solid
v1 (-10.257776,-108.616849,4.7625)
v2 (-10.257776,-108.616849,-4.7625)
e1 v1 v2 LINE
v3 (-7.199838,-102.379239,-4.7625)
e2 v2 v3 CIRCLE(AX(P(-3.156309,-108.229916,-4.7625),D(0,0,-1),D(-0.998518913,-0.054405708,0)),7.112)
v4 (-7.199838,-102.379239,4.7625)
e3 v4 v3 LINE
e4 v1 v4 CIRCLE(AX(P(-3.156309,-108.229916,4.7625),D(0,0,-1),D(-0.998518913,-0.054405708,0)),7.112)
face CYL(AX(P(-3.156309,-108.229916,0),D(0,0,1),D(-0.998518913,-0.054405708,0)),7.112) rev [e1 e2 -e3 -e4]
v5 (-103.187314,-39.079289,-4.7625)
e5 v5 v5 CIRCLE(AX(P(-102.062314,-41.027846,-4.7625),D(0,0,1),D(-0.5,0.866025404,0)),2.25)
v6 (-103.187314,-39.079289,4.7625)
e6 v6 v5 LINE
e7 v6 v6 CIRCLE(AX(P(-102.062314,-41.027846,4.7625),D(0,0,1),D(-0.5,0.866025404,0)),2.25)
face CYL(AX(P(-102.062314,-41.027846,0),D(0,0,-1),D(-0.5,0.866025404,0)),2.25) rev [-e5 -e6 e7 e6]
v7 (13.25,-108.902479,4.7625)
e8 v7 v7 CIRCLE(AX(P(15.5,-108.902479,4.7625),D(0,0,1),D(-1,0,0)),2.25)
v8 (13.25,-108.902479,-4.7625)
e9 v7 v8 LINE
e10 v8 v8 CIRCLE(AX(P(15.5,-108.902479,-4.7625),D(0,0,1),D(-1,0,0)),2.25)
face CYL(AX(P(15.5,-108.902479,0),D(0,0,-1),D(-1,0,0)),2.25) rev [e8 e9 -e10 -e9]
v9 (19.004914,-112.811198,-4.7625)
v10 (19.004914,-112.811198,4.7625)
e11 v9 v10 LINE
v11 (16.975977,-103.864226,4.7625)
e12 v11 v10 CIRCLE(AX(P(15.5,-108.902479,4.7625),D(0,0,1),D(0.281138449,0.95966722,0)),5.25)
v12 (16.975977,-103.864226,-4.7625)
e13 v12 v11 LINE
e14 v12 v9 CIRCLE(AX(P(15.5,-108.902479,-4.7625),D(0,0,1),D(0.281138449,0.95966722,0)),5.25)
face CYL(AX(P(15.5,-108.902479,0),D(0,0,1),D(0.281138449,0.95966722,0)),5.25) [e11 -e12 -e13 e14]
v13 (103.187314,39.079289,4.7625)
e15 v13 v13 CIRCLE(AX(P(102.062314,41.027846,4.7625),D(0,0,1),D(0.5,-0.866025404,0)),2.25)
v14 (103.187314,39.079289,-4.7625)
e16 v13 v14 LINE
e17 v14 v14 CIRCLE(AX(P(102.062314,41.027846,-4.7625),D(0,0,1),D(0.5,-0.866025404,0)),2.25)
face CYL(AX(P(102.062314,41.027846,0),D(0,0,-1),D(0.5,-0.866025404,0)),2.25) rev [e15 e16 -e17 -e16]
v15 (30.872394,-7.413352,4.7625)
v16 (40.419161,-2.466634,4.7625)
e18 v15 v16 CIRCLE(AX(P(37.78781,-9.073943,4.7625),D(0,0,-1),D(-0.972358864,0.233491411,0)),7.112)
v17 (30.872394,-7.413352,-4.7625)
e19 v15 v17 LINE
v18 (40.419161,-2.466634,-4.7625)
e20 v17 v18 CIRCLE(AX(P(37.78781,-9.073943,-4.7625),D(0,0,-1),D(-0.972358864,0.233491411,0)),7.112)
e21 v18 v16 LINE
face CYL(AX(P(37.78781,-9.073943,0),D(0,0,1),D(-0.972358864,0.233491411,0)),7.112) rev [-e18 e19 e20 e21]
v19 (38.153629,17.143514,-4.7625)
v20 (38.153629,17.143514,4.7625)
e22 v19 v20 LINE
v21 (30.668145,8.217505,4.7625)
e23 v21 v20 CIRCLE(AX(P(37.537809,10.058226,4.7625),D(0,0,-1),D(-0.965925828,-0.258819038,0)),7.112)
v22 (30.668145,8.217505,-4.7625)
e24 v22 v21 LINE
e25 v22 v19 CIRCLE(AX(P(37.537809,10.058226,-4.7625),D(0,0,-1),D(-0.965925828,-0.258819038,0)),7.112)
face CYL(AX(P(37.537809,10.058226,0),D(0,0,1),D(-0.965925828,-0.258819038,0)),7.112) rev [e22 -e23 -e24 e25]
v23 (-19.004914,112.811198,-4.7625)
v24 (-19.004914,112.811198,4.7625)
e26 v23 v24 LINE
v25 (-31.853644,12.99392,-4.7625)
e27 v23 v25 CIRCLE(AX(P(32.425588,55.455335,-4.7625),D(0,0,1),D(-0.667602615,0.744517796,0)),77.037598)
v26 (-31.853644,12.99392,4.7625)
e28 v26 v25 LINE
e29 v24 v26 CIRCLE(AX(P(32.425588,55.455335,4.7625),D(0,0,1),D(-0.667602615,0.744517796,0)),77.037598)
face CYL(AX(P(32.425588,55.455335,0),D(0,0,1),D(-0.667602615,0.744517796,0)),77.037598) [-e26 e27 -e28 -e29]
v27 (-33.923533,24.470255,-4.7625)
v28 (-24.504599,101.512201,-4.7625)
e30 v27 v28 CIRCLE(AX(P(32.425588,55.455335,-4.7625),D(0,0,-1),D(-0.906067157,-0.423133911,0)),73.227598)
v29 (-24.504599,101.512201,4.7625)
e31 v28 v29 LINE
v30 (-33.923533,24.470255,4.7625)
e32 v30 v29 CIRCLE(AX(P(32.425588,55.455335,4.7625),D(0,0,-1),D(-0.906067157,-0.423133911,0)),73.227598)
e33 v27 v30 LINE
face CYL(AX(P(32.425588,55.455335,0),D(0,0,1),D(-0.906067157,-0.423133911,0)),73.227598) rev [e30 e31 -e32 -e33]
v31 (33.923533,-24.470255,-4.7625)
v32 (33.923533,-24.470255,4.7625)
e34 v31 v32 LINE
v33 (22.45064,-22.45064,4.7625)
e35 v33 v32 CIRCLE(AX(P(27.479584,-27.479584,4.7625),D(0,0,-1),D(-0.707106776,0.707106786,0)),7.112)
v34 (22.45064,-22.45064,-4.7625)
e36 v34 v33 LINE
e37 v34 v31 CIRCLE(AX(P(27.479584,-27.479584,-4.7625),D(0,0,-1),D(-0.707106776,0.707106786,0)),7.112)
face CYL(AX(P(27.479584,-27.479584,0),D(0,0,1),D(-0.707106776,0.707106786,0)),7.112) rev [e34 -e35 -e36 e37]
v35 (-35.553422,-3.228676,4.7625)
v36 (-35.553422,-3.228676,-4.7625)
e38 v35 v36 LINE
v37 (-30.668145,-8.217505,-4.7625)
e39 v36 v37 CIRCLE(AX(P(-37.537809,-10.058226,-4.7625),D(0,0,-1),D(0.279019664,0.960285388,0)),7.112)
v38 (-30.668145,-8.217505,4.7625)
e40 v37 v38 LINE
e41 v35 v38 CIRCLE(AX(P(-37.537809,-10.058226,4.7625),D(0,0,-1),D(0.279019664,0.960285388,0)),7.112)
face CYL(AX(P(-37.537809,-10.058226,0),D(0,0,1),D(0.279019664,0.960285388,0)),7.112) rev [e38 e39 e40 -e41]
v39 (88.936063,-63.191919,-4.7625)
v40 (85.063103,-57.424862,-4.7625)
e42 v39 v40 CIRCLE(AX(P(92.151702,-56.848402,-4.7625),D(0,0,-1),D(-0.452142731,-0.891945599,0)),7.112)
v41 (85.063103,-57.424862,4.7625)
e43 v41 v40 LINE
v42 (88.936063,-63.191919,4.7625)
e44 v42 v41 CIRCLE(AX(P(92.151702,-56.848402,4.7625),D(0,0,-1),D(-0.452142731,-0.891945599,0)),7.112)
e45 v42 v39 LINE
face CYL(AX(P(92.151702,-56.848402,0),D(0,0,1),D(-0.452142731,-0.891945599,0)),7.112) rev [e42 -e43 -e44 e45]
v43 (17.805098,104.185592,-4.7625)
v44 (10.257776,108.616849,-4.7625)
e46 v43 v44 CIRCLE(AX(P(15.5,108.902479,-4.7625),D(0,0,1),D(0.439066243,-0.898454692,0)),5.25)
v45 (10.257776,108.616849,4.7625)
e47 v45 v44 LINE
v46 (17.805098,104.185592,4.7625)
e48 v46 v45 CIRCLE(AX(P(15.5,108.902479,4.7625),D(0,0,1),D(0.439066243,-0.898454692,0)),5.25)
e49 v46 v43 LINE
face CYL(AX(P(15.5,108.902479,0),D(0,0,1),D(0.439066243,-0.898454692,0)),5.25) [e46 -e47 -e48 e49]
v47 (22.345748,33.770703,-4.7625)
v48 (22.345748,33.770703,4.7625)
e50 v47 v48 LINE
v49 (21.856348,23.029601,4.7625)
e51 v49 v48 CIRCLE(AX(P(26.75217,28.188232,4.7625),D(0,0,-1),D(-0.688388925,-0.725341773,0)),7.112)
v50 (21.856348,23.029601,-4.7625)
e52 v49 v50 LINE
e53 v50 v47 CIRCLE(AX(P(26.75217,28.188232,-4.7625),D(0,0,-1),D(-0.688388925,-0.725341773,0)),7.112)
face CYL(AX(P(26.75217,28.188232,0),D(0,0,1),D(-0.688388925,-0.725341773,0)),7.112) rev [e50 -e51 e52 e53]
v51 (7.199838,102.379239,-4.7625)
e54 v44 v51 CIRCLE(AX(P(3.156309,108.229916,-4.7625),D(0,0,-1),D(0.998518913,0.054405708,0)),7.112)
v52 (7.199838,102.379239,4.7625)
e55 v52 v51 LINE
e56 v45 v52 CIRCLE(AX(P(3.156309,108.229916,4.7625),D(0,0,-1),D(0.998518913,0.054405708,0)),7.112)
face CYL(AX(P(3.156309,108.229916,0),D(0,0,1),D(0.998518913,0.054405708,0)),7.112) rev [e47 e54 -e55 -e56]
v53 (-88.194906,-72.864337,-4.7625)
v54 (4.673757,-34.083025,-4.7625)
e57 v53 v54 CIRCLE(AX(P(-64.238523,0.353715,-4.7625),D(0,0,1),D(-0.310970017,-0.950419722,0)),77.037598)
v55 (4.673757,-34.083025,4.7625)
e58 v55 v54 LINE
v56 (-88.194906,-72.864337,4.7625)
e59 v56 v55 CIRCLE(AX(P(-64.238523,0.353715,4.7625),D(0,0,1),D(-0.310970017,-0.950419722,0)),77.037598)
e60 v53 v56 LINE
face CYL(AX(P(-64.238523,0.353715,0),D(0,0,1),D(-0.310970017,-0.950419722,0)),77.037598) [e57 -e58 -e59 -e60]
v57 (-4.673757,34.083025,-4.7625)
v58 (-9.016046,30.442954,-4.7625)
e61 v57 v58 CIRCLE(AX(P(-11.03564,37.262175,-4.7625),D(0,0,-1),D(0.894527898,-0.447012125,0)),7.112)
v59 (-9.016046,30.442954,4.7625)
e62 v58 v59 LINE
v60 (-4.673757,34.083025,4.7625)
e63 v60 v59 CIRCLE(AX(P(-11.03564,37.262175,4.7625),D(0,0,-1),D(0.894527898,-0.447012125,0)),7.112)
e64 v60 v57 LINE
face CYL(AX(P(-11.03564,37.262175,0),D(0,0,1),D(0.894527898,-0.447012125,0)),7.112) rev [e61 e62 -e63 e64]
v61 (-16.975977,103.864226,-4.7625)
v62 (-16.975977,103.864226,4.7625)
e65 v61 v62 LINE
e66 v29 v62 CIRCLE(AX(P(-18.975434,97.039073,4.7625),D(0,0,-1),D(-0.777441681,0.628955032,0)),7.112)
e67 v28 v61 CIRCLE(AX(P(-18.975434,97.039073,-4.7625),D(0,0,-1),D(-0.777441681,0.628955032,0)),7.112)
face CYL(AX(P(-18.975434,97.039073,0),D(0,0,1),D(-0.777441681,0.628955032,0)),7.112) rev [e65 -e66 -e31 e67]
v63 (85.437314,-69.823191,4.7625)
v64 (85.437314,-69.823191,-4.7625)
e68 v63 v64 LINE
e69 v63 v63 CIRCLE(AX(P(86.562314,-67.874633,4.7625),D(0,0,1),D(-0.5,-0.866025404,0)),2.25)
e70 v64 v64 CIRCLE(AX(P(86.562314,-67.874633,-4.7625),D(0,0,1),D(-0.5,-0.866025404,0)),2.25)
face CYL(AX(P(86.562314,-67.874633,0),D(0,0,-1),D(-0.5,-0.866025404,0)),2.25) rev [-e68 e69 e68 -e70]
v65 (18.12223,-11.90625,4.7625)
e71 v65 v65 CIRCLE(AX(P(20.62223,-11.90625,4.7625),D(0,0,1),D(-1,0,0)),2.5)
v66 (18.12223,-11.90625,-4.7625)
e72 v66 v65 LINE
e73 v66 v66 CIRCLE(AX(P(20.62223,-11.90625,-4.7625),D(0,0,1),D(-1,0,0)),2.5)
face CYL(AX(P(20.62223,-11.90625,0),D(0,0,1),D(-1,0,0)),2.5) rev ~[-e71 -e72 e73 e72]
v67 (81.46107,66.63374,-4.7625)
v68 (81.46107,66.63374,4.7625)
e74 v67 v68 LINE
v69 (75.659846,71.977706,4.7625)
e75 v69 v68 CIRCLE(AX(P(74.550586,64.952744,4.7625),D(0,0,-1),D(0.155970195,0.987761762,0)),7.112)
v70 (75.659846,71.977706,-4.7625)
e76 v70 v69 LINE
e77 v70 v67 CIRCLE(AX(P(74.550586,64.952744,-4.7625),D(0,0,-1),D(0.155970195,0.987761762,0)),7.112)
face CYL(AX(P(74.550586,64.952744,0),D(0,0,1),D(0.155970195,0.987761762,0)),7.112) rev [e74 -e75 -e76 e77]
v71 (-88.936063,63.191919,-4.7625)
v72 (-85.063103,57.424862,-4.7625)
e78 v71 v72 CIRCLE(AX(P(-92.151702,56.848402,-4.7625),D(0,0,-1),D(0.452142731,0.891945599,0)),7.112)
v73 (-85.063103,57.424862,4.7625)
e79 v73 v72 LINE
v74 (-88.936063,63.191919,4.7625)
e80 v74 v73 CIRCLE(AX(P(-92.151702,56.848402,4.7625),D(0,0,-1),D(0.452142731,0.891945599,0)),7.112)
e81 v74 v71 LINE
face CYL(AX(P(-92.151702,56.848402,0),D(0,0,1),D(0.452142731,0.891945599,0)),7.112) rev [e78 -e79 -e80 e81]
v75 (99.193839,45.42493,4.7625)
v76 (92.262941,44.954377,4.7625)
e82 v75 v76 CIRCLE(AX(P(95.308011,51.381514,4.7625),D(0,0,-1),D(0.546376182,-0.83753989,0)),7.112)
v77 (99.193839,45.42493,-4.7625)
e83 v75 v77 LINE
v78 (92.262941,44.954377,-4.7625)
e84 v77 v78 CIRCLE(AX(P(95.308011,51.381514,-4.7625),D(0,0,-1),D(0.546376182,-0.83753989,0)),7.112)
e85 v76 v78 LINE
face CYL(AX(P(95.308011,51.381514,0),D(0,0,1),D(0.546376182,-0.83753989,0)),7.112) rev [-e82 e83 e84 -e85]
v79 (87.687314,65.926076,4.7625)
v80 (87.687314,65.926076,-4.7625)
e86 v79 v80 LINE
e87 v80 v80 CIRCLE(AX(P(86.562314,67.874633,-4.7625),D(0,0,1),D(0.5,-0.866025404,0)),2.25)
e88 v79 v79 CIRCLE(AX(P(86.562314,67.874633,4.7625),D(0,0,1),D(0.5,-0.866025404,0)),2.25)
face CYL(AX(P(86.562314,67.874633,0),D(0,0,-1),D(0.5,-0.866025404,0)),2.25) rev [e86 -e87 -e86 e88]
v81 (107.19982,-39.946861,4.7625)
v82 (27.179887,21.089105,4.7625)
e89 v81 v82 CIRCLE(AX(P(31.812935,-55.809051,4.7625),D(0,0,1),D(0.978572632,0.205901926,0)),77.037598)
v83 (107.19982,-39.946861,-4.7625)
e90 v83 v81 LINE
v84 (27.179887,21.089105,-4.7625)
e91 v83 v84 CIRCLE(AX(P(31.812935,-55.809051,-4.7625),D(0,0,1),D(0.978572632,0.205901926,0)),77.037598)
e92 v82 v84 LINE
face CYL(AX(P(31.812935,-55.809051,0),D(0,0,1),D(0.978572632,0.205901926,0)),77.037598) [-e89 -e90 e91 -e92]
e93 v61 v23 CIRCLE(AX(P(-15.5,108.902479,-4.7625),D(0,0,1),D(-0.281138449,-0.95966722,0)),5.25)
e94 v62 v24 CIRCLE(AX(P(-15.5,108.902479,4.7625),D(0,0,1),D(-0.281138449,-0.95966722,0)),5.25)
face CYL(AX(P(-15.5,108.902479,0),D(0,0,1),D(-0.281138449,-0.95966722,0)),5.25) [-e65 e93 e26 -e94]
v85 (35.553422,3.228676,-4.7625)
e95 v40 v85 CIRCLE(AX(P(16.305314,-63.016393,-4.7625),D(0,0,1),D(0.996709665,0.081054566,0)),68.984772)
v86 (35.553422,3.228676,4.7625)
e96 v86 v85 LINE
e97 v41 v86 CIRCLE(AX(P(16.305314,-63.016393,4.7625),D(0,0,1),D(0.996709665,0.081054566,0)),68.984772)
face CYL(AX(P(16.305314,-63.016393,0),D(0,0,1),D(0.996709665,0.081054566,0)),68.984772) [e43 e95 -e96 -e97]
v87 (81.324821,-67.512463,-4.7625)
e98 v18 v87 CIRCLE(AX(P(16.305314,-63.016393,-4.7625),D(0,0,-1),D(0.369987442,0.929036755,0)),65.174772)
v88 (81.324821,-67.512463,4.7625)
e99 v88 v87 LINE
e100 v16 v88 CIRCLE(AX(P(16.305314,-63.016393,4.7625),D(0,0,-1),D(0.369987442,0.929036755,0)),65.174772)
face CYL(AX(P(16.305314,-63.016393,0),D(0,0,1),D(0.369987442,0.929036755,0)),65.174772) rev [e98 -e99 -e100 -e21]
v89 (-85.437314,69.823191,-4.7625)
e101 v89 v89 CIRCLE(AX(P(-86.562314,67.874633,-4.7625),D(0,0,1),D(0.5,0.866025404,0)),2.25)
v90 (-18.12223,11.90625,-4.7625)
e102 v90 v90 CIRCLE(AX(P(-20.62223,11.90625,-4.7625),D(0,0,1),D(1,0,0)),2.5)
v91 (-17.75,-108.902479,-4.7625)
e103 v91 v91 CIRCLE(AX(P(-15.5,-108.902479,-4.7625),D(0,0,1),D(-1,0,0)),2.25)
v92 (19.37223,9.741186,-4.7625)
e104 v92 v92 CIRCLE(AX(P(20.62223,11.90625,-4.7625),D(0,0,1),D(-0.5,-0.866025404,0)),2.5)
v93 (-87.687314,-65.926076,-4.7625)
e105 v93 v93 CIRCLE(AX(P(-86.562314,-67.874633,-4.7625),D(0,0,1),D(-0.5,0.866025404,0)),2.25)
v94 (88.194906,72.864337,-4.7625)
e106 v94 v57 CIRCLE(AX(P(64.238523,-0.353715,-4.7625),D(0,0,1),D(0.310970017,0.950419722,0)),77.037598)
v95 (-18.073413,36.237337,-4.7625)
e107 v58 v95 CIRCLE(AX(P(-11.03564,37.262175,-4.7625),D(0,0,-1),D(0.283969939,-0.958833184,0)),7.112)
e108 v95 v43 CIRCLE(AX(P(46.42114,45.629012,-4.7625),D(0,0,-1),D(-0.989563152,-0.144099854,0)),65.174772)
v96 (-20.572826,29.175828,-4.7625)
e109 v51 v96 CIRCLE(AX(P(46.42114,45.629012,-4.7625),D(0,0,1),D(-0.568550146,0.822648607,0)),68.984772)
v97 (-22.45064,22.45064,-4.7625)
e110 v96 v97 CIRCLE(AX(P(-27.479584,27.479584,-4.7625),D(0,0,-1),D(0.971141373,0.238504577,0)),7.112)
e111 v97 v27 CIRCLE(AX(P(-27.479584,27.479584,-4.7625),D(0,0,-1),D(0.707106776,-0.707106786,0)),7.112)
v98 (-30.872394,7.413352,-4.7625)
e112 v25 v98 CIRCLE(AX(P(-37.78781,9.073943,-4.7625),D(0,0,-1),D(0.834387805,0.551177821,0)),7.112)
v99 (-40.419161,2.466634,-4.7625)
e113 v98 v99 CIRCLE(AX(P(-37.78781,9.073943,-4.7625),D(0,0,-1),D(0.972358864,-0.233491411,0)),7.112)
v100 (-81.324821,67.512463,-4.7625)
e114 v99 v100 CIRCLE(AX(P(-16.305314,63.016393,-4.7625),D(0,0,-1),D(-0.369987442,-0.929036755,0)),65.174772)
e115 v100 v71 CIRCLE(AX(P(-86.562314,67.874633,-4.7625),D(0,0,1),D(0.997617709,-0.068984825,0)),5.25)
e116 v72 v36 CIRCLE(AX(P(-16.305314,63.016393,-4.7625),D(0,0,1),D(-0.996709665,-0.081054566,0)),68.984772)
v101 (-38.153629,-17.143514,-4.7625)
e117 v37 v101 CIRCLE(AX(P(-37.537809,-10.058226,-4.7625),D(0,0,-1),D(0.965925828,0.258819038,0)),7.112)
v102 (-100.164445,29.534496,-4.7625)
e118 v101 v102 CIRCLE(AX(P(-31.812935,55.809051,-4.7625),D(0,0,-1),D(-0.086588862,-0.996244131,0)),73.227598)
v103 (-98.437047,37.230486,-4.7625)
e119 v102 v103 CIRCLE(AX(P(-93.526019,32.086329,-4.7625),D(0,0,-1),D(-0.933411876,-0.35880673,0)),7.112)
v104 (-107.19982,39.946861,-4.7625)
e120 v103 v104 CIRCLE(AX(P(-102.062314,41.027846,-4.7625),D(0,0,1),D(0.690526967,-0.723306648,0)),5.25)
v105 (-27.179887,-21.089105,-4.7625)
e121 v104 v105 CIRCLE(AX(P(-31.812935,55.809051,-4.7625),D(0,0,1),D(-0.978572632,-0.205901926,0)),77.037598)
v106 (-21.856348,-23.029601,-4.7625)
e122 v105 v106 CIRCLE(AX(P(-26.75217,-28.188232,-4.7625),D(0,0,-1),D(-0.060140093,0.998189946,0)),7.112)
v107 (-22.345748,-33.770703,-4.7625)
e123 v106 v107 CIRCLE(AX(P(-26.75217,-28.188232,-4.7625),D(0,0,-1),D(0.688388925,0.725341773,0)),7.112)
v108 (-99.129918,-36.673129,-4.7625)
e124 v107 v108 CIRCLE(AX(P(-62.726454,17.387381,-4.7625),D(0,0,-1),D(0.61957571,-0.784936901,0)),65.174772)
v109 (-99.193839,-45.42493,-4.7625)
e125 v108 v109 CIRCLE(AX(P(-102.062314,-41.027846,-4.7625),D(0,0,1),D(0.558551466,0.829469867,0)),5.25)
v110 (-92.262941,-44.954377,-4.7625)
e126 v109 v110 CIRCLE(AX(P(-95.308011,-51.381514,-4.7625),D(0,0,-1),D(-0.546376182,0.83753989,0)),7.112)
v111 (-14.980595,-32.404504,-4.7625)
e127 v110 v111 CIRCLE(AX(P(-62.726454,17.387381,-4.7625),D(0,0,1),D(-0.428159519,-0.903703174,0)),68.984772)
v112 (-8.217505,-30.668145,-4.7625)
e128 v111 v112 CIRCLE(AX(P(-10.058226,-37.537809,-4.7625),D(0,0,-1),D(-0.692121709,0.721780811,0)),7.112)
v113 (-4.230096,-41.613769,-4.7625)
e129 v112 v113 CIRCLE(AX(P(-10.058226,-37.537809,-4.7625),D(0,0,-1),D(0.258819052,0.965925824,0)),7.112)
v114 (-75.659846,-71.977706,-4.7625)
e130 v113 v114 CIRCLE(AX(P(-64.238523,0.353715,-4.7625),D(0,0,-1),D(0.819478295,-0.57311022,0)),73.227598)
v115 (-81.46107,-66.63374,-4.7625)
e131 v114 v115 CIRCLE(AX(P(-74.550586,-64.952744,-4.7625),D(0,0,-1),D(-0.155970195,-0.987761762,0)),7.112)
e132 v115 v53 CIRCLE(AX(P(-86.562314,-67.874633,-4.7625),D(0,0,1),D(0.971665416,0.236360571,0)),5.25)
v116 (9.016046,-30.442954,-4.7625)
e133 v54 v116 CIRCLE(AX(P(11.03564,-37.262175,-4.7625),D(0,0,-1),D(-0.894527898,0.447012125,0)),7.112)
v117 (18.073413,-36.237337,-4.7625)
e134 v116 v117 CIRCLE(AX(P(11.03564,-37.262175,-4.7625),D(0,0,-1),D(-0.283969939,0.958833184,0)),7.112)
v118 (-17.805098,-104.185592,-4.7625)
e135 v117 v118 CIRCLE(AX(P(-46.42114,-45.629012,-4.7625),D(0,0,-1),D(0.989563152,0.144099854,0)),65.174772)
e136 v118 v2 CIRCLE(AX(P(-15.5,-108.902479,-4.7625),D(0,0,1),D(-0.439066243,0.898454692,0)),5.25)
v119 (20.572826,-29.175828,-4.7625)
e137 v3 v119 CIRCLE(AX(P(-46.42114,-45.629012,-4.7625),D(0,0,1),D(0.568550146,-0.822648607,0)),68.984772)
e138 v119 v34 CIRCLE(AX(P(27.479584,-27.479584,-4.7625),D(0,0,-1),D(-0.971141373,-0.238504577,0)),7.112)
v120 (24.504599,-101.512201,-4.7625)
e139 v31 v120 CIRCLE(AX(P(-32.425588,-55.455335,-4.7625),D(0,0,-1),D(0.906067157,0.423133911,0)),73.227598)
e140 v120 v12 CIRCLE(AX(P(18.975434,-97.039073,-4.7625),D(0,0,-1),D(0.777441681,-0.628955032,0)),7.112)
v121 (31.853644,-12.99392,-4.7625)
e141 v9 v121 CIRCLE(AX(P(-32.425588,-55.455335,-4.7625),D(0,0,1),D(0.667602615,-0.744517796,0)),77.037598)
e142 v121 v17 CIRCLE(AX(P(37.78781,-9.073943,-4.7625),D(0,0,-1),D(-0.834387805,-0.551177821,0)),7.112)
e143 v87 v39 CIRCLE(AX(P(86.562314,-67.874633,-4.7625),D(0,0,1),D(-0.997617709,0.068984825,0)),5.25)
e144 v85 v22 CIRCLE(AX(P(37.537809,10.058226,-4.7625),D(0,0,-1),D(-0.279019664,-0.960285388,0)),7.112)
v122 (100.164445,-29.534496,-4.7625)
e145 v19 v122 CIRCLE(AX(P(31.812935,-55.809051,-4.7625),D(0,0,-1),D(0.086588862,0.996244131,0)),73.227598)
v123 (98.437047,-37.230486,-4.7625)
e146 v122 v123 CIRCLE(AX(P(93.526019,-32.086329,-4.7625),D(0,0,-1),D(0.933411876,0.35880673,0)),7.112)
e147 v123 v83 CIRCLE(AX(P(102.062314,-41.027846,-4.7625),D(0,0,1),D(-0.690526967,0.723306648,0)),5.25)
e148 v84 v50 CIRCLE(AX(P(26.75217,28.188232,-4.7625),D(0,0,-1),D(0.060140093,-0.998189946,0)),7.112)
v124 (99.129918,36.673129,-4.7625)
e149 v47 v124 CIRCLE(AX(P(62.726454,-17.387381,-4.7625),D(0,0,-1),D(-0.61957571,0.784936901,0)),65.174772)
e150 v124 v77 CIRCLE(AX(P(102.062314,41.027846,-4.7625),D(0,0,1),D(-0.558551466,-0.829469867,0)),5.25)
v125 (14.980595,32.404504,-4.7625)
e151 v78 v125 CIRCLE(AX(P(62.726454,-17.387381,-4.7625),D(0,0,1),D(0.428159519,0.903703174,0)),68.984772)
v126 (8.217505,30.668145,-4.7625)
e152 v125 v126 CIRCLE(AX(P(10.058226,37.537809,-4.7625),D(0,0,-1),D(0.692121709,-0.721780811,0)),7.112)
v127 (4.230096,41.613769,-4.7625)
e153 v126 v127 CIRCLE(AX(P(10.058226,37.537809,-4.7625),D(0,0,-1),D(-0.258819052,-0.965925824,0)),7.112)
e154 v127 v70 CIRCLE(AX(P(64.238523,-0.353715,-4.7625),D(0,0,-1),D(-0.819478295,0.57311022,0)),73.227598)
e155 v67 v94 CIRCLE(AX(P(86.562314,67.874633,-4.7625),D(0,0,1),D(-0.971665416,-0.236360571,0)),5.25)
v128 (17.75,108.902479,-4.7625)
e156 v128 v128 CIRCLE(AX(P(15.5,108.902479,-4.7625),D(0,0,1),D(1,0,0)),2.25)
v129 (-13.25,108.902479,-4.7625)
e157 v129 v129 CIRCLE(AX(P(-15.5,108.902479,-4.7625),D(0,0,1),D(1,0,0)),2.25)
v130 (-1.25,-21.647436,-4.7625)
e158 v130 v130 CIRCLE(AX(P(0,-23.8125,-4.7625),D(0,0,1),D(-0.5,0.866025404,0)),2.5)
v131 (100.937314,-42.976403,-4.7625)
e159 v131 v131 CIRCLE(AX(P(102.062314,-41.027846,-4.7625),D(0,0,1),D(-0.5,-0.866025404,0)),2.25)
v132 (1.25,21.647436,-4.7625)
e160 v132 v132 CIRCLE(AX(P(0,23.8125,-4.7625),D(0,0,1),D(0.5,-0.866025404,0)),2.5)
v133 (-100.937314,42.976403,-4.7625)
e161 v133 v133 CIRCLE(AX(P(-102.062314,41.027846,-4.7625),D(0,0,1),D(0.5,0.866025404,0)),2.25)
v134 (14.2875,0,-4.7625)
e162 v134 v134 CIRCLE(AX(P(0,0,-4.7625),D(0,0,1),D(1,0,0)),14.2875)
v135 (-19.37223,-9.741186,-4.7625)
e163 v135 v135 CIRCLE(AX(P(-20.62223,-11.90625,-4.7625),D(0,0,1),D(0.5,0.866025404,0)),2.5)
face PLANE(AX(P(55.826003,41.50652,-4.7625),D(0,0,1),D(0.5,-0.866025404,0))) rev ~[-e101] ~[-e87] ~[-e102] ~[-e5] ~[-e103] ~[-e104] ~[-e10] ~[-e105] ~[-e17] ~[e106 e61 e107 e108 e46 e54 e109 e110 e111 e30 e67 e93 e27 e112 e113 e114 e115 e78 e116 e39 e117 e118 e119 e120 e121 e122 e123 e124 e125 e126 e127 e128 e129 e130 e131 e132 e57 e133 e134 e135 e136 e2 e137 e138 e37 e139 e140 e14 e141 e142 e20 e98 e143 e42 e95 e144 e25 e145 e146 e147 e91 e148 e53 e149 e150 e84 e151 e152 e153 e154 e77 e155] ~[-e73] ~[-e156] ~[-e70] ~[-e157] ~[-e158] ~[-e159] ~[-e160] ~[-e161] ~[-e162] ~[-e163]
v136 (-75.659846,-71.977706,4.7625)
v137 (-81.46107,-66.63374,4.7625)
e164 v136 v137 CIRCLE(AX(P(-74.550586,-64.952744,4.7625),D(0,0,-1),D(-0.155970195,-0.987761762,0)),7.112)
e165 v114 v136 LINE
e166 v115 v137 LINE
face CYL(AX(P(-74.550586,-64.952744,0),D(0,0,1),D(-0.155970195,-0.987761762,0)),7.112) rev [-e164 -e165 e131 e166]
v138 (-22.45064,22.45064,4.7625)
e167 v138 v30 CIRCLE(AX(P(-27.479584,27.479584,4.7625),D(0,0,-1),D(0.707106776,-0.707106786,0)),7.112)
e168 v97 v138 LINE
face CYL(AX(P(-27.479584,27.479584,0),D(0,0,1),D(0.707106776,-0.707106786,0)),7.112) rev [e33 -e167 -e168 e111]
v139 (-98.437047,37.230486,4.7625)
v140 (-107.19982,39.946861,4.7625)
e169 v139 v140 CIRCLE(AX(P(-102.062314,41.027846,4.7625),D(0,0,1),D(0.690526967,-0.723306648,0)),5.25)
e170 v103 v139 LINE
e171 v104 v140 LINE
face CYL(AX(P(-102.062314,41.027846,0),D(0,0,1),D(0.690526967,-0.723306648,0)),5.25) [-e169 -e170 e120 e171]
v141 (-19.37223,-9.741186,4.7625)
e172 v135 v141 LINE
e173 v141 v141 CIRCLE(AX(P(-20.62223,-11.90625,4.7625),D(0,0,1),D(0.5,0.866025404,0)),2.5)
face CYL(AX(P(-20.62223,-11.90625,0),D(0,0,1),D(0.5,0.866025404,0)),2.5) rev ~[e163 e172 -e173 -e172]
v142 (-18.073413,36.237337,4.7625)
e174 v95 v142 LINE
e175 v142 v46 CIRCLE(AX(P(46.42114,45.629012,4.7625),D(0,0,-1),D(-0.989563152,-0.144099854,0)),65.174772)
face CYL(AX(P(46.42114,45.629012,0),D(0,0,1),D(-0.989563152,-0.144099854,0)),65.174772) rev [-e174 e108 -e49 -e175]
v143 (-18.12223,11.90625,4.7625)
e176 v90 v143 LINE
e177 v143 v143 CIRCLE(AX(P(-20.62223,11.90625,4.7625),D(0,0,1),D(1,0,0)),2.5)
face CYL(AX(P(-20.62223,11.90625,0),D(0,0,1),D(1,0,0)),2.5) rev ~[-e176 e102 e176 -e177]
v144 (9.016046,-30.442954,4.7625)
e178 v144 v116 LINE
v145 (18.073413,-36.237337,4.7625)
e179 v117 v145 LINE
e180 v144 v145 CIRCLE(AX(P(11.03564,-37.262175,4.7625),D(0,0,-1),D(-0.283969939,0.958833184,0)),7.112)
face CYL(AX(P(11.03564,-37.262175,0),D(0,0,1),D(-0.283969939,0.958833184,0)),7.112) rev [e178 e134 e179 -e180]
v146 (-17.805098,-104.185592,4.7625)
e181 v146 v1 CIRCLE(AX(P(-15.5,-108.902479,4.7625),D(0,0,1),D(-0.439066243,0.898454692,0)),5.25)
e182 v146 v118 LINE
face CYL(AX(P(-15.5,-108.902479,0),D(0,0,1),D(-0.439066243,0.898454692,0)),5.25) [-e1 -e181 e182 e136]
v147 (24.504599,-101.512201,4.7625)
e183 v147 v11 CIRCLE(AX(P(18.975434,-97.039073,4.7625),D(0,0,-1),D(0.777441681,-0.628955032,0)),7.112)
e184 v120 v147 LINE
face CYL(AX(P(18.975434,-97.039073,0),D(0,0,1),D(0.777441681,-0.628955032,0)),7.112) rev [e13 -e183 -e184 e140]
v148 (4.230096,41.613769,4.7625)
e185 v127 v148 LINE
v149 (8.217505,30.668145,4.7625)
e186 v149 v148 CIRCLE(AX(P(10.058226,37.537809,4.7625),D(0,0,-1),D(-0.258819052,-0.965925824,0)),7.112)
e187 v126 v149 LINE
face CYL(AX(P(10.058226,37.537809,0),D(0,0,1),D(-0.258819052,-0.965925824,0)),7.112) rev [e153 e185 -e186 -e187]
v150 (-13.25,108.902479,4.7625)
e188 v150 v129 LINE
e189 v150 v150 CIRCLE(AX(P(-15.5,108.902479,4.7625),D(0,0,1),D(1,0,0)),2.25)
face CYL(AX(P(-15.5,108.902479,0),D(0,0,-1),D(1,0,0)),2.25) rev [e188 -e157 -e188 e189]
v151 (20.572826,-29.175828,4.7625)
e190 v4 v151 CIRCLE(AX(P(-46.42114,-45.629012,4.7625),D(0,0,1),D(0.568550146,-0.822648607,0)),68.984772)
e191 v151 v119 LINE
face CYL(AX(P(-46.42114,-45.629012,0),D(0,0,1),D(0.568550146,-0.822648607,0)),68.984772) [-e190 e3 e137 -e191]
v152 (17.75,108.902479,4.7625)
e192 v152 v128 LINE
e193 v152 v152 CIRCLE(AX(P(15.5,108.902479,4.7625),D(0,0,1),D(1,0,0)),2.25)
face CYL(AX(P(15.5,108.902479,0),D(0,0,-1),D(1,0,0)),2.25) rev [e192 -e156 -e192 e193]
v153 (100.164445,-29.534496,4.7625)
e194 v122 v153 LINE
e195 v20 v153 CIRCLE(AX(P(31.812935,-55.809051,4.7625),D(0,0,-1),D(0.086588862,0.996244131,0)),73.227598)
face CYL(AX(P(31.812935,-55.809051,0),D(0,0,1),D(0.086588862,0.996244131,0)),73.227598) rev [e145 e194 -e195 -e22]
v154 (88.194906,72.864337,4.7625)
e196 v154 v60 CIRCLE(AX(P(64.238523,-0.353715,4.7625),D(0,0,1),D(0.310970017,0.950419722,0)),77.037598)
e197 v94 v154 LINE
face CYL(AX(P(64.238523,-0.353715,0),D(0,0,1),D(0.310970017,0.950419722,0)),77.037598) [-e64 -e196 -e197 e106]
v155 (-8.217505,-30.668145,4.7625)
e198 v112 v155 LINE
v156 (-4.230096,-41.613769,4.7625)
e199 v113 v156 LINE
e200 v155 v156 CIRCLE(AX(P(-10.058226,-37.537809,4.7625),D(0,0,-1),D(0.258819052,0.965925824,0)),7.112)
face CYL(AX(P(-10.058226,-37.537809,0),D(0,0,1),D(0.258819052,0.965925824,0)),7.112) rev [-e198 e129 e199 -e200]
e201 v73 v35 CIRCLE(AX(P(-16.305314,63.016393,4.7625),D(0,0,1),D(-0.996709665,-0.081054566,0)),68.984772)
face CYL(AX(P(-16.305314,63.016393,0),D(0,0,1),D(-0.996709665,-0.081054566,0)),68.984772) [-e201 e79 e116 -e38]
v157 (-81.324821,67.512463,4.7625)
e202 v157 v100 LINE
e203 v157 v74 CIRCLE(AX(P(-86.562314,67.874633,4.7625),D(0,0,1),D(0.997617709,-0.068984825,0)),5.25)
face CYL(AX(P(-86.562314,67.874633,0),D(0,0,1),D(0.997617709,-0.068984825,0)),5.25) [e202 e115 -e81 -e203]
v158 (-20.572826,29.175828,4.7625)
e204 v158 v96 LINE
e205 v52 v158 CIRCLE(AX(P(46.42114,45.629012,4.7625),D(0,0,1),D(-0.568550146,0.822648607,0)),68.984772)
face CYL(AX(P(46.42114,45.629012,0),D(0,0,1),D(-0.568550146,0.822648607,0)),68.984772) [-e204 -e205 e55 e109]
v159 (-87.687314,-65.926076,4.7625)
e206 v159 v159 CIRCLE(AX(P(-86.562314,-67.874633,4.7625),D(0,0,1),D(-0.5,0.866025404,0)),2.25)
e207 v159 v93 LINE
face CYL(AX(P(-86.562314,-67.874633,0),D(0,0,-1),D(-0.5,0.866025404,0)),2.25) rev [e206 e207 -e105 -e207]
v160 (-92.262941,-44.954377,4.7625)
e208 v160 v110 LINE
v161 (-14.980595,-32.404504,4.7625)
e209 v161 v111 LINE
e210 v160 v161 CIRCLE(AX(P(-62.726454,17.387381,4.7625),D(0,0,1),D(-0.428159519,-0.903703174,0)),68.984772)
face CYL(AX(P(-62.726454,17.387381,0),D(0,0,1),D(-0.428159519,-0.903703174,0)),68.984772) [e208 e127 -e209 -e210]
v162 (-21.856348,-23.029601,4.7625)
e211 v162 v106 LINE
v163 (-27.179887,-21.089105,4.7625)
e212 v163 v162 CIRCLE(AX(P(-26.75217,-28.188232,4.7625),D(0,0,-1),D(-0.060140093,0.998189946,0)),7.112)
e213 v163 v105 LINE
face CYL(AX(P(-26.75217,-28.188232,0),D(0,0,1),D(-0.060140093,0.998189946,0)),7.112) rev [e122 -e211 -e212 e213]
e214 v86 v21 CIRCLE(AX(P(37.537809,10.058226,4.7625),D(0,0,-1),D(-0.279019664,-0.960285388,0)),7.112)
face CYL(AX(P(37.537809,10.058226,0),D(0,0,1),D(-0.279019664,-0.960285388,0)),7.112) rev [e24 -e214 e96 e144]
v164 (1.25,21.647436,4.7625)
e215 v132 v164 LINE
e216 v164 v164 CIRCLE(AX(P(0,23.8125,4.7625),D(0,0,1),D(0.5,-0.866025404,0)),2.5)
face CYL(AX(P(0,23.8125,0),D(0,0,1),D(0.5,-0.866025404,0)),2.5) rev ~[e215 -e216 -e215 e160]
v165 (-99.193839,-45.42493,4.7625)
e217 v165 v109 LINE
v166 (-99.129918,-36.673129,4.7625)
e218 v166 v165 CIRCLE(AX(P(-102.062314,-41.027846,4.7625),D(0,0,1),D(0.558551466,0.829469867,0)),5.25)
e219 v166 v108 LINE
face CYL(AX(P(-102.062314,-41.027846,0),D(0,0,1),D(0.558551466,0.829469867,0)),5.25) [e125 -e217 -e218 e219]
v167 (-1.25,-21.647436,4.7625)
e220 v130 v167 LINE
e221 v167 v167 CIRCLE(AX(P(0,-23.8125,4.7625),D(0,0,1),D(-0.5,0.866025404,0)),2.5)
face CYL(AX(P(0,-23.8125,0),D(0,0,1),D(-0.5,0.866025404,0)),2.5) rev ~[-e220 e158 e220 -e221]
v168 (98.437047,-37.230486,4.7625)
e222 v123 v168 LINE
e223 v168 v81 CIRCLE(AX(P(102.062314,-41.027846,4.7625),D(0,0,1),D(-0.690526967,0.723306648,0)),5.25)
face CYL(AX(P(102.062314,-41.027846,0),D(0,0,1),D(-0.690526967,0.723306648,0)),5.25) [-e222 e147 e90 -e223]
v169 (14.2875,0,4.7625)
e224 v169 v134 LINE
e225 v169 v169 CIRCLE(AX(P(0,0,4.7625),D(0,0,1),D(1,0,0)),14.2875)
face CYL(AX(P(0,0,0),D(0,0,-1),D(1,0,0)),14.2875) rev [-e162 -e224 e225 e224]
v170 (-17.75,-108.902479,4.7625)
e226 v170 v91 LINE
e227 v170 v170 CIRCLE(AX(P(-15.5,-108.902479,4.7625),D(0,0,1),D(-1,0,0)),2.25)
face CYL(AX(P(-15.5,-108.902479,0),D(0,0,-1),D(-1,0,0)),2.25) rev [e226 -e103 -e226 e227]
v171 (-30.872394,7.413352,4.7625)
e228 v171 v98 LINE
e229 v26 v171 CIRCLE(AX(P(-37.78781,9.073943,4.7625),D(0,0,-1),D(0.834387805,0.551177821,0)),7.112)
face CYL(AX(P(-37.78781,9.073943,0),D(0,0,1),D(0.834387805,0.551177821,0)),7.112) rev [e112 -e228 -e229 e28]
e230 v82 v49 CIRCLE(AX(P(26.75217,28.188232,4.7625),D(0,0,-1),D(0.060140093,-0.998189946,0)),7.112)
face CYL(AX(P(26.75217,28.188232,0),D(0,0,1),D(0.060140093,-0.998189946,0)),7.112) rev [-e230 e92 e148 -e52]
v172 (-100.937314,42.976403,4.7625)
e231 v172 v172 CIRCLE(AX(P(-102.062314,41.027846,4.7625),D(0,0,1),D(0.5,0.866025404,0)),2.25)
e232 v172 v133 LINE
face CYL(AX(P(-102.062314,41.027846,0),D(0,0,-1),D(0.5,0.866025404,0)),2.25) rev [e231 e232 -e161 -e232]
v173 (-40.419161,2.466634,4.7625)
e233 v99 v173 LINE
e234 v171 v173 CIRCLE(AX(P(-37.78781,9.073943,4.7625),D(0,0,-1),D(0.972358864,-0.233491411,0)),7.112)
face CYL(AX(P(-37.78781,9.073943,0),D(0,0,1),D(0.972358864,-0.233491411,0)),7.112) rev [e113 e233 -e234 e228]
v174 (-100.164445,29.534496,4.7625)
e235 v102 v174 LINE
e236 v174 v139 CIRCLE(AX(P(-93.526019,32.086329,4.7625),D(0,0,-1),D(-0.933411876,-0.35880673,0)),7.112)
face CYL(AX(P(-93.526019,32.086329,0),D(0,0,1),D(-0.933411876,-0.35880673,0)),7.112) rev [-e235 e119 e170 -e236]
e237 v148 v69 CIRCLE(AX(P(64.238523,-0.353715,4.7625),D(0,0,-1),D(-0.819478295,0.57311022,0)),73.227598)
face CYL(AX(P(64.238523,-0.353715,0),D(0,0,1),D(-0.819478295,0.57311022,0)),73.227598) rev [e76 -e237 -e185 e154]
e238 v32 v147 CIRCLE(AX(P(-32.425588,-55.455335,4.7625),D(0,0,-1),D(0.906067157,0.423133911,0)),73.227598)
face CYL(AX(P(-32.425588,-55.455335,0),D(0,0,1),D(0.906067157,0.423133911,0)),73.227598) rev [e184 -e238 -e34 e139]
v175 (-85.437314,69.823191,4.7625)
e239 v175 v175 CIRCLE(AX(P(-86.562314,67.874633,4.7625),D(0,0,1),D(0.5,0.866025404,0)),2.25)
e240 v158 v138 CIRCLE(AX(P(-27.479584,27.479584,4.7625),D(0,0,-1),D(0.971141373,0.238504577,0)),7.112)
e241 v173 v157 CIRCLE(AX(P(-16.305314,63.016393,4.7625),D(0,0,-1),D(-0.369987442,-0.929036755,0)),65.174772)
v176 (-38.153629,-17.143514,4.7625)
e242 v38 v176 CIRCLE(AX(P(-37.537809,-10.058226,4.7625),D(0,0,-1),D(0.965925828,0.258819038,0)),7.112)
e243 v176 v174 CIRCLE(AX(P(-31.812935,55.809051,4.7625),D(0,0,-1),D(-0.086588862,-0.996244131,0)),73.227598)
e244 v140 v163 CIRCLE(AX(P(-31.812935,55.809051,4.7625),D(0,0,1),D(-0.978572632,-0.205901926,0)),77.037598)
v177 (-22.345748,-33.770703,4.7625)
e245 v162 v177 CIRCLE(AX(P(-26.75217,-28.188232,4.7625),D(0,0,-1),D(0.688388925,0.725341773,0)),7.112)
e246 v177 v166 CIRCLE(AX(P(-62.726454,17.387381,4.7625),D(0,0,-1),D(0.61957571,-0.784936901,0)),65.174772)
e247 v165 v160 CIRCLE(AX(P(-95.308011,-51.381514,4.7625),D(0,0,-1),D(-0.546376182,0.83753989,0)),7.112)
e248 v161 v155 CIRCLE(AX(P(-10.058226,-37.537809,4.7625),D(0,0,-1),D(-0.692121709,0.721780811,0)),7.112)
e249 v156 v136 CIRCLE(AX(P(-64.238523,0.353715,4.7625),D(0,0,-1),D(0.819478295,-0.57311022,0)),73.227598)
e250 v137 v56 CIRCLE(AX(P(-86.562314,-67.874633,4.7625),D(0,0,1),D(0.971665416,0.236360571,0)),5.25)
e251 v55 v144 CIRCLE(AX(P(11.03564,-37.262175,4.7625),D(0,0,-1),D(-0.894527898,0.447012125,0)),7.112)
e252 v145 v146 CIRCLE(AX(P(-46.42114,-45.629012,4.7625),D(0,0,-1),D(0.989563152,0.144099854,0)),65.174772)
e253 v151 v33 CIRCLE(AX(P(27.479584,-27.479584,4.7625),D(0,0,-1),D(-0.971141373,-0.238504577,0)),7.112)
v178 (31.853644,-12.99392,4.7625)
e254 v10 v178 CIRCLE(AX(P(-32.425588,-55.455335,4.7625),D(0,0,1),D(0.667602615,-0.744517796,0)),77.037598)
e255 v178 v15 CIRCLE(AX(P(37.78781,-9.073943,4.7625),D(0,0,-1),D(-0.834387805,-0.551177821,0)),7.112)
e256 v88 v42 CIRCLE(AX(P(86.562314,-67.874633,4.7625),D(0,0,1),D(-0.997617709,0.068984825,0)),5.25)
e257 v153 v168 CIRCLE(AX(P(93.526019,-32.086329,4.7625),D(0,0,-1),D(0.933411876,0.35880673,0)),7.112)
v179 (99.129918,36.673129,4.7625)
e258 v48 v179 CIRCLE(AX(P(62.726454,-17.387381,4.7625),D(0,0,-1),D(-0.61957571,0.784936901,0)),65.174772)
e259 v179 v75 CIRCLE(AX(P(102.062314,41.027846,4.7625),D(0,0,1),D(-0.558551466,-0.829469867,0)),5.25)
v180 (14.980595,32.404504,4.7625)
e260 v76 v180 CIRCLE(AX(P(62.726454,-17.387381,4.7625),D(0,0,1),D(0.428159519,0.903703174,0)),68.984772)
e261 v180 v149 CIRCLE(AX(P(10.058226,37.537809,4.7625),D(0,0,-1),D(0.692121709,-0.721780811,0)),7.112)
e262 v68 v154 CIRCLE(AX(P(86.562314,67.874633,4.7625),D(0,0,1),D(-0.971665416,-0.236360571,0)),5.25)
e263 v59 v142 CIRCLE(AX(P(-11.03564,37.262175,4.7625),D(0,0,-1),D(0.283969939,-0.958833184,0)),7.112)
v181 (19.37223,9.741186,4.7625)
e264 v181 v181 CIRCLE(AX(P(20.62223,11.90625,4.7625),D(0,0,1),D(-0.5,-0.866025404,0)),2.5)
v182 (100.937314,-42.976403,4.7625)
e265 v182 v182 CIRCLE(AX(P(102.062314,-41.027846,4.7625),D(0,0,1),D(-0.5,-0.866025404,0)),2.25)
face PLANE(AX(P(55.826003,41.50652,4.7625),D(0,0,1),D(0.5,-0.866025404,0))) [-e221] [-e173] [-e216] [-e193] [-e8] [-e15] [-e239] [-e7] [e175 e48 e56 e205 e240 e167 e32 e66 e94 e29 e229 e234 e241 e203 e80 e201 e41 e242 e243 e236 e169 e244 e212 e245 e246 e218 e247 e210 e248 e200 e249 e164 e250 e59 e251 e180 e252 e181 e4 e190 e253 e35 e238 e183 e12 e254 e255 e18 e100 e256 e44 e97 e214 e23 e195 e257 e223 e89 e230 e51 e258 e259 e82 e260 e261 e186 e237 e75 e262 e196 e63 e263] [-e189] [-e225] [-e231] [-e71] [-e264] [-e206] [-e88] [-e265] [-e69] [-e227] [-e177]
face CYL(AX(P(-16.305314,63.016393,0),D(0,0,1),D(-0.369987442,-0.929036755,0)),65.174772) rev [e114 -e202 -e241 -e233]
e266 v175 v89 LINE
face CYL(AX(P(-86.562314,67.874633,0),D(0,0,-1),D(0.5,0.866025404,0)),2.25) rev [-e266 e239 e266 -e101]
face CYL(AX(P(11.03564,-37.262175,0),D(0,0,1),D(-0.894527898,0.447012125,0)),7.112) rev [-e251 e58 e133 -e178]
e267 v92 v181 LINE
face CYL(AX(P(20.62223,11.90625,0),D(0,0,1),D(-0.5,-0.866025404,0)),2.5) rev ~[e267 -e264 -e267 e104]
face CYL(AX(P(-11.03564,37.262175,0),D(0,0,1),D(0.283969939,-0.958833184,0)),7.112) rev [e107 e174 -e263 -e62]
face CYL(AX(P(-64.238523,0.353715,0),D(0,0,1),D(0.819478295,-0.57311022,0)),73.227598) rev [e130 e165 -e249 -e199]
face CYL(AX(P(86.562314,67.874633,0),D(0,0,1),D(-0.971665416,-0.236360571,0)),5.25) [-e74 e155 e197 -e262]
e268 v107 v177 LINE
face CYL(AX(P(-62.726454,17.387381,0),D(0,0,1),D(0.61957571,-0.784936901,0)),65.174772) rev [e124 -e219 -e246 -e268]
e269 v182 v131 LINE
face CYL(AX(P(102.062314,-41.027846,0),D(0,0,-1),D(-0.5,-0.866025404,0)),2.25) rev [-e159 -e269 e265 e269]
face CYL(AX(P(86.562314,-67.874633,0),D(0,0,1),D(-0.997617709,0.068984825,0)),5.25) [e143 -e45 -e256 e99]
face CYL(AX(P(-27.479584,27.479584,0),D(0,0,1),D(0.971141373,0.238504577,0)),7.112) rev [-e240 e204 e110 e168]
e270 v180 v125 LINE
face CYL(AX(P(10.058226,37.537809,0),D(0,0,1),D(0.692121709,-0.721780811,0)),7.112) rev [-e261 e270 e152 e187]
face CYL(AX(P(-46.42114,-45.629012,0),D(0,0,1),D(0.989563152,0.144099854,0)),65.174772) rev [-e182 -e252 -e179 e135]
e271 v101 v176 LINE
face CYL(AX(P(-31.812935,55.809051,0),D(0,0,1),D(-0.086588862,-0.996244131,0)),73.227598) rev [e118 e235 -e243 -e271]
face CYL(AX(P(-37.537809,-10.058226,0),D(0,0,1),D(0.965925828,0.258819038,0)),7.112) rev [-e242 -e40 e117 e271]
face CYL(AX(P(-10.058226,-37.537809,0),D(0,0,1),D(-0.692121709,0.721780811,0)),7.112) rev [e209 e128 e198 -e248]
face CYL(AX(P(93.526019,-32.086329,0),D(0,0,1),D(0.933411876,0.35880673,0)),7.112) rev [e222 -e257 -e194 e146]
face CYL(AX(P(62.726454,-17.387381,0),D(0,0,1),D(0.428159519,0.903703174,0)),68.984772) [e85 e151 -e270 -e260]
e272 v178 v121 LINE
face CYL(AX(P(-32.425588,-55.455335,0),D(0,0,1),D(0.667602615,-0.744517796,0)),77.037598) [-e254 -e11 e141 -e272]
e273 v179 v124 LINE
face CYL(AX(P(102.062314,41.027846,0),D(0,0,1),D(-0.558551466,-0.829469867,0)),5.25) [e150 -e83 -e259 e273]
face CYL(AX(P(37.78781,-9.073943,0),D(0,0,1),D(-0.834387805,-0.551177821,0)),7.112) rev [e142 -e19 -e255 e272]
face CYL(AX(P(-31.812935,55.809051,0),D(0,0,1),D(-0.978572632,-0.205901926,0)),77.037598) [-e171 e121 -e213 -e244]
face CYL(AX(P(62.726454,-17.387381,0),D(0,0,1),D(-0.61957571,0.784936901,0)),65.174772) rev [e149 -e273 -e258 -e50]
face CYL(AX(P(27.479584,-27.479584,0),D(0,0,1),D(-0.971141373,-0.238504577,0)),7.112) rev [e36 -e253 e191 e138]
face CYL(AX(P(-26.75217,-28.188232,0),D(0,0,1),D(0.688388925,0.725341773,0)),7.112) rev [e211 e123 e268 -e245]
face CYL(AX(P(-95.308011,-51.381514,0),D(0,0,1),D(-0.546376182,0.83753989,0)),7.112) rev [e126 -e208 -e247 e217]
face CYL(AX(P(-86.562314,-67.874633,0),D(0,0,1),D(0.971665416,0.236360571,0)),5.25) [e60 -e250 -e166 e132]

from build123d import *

# Parameters (mm, degrees)
SKETCH1_R           = 31.75
SKETCH1_R_2         = 14.2875
BOSS_EXTRUDE1_DEPTH = 4.7625
SKETCH1_3_R         = 2.25
BOSS_EXTRUDE2_DEPTH = 4.7625
SKETCH1_5_R         = 2.5
CUT_EXTRUDE1_DEPTH  = 5.7625
CIRPATTERN1_COUNT   = 6


with BuildPart() as part:
    # Sketch1 → Boss-Extrude1 (new body, symmetric)
    with BuildSketch(Plane.XY):
        Circle(SKETCH1_R)
        Circle(SKETCH1_R_2, mode=Mode.SUBTRACT)
    extrude(amount=BOSS_EXTRUDE1_DEPTH, both=True)

    # Sketch1_3 → Boss-Extrude2 (add, symmetric)
    with BuildSketch(Plane.XY):
        with BuildLine():
            ThreePointArc((-16.975976856, 103.864226407), (-10.380000805, 110.063559945), (-19.004913728, 112.811197739))
            ThreePointArc((-19.004913728, 112.811197739), (-43.981596647, 65.290659685), (-31.853644116, 12.993919882))
            ThreePointArc((-31.853644116, 12.993919882), (-30.783267014, 10.305575859), (-30.872393941, 7.4133523))
            ThreePointArc((-30.872393941, 7.4133523), (-27.701380897, 15.51438031), (-22.45064034, 22.450640265))
            ThreePointArc((-22.45064034, 22.450640265), (-28.712576811, 20.475279906), (-33.923533352, 24.470255355))
            ThreePointArc((-33.923533352, 24.470255355), (-40.260809011, 64.341772494), (-24.504598742, 101.512201327))
            ThreePointArc((-24.504598742, 101.512201327), (-21.096215477, 103.827506526), (-16.975976856, 103.864226407))
        make_face()
        with Locations((-15.5, 108.902479311)):
            Circle(SKETCH1_3_R, mode=Mode.SUBTRACT)
        with BuildLine():
            ThreePointArc((-20.572826284, 29.17582828), (-20.629600002, 25.566924084), (-22.45064034, 22.450640265))
            ThreePointArc((-22.45064034, 22.450640265), (-16.232909422, 27.286537921), (-9.016045552, 30.442953579))
            ThreePointArc((-9.016045552, 30.442953579), (-14.868295469, 31.271240847), (-18.073412893, 36.237337019))
            ThreePointArc((-18.073412893, 36.237337019), (-11.212505299, 76.061130888), (17.805097778, 104.185592177))
            ThreePointArc((17.805097778, 104.185592177), (18.158136201, 113.429819804), (10.257775708, 108.616849345))
            ThreePointArc((10.257775708, 108.616849345), (9.542205751, 105.099281948), (7.199837842, 102.379239056))
            ThreePointArc((7.199837842, 102.379239056), (-18.077740957, 70.099262208), (-20.572826284, 29.17582828))
        make_face()
        with Locations((15.5, 108.902479311)):
            Circle(SKETCH1_3_R, mode=Mode.SUBTRACT)
    boss_extrude2 = extrude(amount=BOSS_EXTRUDE2_DEPTH, both=True)

    # Sketch1_5 → Cut-Extrude1 (cut, symmetric)
    with BuildSketch(Plane.XY):
        with Locations((-20.622229928, 11.90625)):
            Circle(SKETCH1_5_R)
    cut_extrude1 = extrude(amount=CUT_EXTRUDE1_DEPTH, both=True, mode=Mode.SUBTRACT)

    # CirPattern1: Boss-Extrude2, Cut-Extrude1 ×6 about axis
    cirpattern1_axis = Axis((0, 0, 0), (0, 0, 1))
    for i in range(1, CIRPATTERN1_COUNT):
        add(boss_extrude2.rotate(cirpattern1_axis, i * 360 / CIRPATTERN1_COUNT))
        add(cut_extrude1.rotate(cirpattern1_axis, i * 360 / CIRPATTERN1_COUNT), mode=Mode.SUBTRACT)


solid = part.part
